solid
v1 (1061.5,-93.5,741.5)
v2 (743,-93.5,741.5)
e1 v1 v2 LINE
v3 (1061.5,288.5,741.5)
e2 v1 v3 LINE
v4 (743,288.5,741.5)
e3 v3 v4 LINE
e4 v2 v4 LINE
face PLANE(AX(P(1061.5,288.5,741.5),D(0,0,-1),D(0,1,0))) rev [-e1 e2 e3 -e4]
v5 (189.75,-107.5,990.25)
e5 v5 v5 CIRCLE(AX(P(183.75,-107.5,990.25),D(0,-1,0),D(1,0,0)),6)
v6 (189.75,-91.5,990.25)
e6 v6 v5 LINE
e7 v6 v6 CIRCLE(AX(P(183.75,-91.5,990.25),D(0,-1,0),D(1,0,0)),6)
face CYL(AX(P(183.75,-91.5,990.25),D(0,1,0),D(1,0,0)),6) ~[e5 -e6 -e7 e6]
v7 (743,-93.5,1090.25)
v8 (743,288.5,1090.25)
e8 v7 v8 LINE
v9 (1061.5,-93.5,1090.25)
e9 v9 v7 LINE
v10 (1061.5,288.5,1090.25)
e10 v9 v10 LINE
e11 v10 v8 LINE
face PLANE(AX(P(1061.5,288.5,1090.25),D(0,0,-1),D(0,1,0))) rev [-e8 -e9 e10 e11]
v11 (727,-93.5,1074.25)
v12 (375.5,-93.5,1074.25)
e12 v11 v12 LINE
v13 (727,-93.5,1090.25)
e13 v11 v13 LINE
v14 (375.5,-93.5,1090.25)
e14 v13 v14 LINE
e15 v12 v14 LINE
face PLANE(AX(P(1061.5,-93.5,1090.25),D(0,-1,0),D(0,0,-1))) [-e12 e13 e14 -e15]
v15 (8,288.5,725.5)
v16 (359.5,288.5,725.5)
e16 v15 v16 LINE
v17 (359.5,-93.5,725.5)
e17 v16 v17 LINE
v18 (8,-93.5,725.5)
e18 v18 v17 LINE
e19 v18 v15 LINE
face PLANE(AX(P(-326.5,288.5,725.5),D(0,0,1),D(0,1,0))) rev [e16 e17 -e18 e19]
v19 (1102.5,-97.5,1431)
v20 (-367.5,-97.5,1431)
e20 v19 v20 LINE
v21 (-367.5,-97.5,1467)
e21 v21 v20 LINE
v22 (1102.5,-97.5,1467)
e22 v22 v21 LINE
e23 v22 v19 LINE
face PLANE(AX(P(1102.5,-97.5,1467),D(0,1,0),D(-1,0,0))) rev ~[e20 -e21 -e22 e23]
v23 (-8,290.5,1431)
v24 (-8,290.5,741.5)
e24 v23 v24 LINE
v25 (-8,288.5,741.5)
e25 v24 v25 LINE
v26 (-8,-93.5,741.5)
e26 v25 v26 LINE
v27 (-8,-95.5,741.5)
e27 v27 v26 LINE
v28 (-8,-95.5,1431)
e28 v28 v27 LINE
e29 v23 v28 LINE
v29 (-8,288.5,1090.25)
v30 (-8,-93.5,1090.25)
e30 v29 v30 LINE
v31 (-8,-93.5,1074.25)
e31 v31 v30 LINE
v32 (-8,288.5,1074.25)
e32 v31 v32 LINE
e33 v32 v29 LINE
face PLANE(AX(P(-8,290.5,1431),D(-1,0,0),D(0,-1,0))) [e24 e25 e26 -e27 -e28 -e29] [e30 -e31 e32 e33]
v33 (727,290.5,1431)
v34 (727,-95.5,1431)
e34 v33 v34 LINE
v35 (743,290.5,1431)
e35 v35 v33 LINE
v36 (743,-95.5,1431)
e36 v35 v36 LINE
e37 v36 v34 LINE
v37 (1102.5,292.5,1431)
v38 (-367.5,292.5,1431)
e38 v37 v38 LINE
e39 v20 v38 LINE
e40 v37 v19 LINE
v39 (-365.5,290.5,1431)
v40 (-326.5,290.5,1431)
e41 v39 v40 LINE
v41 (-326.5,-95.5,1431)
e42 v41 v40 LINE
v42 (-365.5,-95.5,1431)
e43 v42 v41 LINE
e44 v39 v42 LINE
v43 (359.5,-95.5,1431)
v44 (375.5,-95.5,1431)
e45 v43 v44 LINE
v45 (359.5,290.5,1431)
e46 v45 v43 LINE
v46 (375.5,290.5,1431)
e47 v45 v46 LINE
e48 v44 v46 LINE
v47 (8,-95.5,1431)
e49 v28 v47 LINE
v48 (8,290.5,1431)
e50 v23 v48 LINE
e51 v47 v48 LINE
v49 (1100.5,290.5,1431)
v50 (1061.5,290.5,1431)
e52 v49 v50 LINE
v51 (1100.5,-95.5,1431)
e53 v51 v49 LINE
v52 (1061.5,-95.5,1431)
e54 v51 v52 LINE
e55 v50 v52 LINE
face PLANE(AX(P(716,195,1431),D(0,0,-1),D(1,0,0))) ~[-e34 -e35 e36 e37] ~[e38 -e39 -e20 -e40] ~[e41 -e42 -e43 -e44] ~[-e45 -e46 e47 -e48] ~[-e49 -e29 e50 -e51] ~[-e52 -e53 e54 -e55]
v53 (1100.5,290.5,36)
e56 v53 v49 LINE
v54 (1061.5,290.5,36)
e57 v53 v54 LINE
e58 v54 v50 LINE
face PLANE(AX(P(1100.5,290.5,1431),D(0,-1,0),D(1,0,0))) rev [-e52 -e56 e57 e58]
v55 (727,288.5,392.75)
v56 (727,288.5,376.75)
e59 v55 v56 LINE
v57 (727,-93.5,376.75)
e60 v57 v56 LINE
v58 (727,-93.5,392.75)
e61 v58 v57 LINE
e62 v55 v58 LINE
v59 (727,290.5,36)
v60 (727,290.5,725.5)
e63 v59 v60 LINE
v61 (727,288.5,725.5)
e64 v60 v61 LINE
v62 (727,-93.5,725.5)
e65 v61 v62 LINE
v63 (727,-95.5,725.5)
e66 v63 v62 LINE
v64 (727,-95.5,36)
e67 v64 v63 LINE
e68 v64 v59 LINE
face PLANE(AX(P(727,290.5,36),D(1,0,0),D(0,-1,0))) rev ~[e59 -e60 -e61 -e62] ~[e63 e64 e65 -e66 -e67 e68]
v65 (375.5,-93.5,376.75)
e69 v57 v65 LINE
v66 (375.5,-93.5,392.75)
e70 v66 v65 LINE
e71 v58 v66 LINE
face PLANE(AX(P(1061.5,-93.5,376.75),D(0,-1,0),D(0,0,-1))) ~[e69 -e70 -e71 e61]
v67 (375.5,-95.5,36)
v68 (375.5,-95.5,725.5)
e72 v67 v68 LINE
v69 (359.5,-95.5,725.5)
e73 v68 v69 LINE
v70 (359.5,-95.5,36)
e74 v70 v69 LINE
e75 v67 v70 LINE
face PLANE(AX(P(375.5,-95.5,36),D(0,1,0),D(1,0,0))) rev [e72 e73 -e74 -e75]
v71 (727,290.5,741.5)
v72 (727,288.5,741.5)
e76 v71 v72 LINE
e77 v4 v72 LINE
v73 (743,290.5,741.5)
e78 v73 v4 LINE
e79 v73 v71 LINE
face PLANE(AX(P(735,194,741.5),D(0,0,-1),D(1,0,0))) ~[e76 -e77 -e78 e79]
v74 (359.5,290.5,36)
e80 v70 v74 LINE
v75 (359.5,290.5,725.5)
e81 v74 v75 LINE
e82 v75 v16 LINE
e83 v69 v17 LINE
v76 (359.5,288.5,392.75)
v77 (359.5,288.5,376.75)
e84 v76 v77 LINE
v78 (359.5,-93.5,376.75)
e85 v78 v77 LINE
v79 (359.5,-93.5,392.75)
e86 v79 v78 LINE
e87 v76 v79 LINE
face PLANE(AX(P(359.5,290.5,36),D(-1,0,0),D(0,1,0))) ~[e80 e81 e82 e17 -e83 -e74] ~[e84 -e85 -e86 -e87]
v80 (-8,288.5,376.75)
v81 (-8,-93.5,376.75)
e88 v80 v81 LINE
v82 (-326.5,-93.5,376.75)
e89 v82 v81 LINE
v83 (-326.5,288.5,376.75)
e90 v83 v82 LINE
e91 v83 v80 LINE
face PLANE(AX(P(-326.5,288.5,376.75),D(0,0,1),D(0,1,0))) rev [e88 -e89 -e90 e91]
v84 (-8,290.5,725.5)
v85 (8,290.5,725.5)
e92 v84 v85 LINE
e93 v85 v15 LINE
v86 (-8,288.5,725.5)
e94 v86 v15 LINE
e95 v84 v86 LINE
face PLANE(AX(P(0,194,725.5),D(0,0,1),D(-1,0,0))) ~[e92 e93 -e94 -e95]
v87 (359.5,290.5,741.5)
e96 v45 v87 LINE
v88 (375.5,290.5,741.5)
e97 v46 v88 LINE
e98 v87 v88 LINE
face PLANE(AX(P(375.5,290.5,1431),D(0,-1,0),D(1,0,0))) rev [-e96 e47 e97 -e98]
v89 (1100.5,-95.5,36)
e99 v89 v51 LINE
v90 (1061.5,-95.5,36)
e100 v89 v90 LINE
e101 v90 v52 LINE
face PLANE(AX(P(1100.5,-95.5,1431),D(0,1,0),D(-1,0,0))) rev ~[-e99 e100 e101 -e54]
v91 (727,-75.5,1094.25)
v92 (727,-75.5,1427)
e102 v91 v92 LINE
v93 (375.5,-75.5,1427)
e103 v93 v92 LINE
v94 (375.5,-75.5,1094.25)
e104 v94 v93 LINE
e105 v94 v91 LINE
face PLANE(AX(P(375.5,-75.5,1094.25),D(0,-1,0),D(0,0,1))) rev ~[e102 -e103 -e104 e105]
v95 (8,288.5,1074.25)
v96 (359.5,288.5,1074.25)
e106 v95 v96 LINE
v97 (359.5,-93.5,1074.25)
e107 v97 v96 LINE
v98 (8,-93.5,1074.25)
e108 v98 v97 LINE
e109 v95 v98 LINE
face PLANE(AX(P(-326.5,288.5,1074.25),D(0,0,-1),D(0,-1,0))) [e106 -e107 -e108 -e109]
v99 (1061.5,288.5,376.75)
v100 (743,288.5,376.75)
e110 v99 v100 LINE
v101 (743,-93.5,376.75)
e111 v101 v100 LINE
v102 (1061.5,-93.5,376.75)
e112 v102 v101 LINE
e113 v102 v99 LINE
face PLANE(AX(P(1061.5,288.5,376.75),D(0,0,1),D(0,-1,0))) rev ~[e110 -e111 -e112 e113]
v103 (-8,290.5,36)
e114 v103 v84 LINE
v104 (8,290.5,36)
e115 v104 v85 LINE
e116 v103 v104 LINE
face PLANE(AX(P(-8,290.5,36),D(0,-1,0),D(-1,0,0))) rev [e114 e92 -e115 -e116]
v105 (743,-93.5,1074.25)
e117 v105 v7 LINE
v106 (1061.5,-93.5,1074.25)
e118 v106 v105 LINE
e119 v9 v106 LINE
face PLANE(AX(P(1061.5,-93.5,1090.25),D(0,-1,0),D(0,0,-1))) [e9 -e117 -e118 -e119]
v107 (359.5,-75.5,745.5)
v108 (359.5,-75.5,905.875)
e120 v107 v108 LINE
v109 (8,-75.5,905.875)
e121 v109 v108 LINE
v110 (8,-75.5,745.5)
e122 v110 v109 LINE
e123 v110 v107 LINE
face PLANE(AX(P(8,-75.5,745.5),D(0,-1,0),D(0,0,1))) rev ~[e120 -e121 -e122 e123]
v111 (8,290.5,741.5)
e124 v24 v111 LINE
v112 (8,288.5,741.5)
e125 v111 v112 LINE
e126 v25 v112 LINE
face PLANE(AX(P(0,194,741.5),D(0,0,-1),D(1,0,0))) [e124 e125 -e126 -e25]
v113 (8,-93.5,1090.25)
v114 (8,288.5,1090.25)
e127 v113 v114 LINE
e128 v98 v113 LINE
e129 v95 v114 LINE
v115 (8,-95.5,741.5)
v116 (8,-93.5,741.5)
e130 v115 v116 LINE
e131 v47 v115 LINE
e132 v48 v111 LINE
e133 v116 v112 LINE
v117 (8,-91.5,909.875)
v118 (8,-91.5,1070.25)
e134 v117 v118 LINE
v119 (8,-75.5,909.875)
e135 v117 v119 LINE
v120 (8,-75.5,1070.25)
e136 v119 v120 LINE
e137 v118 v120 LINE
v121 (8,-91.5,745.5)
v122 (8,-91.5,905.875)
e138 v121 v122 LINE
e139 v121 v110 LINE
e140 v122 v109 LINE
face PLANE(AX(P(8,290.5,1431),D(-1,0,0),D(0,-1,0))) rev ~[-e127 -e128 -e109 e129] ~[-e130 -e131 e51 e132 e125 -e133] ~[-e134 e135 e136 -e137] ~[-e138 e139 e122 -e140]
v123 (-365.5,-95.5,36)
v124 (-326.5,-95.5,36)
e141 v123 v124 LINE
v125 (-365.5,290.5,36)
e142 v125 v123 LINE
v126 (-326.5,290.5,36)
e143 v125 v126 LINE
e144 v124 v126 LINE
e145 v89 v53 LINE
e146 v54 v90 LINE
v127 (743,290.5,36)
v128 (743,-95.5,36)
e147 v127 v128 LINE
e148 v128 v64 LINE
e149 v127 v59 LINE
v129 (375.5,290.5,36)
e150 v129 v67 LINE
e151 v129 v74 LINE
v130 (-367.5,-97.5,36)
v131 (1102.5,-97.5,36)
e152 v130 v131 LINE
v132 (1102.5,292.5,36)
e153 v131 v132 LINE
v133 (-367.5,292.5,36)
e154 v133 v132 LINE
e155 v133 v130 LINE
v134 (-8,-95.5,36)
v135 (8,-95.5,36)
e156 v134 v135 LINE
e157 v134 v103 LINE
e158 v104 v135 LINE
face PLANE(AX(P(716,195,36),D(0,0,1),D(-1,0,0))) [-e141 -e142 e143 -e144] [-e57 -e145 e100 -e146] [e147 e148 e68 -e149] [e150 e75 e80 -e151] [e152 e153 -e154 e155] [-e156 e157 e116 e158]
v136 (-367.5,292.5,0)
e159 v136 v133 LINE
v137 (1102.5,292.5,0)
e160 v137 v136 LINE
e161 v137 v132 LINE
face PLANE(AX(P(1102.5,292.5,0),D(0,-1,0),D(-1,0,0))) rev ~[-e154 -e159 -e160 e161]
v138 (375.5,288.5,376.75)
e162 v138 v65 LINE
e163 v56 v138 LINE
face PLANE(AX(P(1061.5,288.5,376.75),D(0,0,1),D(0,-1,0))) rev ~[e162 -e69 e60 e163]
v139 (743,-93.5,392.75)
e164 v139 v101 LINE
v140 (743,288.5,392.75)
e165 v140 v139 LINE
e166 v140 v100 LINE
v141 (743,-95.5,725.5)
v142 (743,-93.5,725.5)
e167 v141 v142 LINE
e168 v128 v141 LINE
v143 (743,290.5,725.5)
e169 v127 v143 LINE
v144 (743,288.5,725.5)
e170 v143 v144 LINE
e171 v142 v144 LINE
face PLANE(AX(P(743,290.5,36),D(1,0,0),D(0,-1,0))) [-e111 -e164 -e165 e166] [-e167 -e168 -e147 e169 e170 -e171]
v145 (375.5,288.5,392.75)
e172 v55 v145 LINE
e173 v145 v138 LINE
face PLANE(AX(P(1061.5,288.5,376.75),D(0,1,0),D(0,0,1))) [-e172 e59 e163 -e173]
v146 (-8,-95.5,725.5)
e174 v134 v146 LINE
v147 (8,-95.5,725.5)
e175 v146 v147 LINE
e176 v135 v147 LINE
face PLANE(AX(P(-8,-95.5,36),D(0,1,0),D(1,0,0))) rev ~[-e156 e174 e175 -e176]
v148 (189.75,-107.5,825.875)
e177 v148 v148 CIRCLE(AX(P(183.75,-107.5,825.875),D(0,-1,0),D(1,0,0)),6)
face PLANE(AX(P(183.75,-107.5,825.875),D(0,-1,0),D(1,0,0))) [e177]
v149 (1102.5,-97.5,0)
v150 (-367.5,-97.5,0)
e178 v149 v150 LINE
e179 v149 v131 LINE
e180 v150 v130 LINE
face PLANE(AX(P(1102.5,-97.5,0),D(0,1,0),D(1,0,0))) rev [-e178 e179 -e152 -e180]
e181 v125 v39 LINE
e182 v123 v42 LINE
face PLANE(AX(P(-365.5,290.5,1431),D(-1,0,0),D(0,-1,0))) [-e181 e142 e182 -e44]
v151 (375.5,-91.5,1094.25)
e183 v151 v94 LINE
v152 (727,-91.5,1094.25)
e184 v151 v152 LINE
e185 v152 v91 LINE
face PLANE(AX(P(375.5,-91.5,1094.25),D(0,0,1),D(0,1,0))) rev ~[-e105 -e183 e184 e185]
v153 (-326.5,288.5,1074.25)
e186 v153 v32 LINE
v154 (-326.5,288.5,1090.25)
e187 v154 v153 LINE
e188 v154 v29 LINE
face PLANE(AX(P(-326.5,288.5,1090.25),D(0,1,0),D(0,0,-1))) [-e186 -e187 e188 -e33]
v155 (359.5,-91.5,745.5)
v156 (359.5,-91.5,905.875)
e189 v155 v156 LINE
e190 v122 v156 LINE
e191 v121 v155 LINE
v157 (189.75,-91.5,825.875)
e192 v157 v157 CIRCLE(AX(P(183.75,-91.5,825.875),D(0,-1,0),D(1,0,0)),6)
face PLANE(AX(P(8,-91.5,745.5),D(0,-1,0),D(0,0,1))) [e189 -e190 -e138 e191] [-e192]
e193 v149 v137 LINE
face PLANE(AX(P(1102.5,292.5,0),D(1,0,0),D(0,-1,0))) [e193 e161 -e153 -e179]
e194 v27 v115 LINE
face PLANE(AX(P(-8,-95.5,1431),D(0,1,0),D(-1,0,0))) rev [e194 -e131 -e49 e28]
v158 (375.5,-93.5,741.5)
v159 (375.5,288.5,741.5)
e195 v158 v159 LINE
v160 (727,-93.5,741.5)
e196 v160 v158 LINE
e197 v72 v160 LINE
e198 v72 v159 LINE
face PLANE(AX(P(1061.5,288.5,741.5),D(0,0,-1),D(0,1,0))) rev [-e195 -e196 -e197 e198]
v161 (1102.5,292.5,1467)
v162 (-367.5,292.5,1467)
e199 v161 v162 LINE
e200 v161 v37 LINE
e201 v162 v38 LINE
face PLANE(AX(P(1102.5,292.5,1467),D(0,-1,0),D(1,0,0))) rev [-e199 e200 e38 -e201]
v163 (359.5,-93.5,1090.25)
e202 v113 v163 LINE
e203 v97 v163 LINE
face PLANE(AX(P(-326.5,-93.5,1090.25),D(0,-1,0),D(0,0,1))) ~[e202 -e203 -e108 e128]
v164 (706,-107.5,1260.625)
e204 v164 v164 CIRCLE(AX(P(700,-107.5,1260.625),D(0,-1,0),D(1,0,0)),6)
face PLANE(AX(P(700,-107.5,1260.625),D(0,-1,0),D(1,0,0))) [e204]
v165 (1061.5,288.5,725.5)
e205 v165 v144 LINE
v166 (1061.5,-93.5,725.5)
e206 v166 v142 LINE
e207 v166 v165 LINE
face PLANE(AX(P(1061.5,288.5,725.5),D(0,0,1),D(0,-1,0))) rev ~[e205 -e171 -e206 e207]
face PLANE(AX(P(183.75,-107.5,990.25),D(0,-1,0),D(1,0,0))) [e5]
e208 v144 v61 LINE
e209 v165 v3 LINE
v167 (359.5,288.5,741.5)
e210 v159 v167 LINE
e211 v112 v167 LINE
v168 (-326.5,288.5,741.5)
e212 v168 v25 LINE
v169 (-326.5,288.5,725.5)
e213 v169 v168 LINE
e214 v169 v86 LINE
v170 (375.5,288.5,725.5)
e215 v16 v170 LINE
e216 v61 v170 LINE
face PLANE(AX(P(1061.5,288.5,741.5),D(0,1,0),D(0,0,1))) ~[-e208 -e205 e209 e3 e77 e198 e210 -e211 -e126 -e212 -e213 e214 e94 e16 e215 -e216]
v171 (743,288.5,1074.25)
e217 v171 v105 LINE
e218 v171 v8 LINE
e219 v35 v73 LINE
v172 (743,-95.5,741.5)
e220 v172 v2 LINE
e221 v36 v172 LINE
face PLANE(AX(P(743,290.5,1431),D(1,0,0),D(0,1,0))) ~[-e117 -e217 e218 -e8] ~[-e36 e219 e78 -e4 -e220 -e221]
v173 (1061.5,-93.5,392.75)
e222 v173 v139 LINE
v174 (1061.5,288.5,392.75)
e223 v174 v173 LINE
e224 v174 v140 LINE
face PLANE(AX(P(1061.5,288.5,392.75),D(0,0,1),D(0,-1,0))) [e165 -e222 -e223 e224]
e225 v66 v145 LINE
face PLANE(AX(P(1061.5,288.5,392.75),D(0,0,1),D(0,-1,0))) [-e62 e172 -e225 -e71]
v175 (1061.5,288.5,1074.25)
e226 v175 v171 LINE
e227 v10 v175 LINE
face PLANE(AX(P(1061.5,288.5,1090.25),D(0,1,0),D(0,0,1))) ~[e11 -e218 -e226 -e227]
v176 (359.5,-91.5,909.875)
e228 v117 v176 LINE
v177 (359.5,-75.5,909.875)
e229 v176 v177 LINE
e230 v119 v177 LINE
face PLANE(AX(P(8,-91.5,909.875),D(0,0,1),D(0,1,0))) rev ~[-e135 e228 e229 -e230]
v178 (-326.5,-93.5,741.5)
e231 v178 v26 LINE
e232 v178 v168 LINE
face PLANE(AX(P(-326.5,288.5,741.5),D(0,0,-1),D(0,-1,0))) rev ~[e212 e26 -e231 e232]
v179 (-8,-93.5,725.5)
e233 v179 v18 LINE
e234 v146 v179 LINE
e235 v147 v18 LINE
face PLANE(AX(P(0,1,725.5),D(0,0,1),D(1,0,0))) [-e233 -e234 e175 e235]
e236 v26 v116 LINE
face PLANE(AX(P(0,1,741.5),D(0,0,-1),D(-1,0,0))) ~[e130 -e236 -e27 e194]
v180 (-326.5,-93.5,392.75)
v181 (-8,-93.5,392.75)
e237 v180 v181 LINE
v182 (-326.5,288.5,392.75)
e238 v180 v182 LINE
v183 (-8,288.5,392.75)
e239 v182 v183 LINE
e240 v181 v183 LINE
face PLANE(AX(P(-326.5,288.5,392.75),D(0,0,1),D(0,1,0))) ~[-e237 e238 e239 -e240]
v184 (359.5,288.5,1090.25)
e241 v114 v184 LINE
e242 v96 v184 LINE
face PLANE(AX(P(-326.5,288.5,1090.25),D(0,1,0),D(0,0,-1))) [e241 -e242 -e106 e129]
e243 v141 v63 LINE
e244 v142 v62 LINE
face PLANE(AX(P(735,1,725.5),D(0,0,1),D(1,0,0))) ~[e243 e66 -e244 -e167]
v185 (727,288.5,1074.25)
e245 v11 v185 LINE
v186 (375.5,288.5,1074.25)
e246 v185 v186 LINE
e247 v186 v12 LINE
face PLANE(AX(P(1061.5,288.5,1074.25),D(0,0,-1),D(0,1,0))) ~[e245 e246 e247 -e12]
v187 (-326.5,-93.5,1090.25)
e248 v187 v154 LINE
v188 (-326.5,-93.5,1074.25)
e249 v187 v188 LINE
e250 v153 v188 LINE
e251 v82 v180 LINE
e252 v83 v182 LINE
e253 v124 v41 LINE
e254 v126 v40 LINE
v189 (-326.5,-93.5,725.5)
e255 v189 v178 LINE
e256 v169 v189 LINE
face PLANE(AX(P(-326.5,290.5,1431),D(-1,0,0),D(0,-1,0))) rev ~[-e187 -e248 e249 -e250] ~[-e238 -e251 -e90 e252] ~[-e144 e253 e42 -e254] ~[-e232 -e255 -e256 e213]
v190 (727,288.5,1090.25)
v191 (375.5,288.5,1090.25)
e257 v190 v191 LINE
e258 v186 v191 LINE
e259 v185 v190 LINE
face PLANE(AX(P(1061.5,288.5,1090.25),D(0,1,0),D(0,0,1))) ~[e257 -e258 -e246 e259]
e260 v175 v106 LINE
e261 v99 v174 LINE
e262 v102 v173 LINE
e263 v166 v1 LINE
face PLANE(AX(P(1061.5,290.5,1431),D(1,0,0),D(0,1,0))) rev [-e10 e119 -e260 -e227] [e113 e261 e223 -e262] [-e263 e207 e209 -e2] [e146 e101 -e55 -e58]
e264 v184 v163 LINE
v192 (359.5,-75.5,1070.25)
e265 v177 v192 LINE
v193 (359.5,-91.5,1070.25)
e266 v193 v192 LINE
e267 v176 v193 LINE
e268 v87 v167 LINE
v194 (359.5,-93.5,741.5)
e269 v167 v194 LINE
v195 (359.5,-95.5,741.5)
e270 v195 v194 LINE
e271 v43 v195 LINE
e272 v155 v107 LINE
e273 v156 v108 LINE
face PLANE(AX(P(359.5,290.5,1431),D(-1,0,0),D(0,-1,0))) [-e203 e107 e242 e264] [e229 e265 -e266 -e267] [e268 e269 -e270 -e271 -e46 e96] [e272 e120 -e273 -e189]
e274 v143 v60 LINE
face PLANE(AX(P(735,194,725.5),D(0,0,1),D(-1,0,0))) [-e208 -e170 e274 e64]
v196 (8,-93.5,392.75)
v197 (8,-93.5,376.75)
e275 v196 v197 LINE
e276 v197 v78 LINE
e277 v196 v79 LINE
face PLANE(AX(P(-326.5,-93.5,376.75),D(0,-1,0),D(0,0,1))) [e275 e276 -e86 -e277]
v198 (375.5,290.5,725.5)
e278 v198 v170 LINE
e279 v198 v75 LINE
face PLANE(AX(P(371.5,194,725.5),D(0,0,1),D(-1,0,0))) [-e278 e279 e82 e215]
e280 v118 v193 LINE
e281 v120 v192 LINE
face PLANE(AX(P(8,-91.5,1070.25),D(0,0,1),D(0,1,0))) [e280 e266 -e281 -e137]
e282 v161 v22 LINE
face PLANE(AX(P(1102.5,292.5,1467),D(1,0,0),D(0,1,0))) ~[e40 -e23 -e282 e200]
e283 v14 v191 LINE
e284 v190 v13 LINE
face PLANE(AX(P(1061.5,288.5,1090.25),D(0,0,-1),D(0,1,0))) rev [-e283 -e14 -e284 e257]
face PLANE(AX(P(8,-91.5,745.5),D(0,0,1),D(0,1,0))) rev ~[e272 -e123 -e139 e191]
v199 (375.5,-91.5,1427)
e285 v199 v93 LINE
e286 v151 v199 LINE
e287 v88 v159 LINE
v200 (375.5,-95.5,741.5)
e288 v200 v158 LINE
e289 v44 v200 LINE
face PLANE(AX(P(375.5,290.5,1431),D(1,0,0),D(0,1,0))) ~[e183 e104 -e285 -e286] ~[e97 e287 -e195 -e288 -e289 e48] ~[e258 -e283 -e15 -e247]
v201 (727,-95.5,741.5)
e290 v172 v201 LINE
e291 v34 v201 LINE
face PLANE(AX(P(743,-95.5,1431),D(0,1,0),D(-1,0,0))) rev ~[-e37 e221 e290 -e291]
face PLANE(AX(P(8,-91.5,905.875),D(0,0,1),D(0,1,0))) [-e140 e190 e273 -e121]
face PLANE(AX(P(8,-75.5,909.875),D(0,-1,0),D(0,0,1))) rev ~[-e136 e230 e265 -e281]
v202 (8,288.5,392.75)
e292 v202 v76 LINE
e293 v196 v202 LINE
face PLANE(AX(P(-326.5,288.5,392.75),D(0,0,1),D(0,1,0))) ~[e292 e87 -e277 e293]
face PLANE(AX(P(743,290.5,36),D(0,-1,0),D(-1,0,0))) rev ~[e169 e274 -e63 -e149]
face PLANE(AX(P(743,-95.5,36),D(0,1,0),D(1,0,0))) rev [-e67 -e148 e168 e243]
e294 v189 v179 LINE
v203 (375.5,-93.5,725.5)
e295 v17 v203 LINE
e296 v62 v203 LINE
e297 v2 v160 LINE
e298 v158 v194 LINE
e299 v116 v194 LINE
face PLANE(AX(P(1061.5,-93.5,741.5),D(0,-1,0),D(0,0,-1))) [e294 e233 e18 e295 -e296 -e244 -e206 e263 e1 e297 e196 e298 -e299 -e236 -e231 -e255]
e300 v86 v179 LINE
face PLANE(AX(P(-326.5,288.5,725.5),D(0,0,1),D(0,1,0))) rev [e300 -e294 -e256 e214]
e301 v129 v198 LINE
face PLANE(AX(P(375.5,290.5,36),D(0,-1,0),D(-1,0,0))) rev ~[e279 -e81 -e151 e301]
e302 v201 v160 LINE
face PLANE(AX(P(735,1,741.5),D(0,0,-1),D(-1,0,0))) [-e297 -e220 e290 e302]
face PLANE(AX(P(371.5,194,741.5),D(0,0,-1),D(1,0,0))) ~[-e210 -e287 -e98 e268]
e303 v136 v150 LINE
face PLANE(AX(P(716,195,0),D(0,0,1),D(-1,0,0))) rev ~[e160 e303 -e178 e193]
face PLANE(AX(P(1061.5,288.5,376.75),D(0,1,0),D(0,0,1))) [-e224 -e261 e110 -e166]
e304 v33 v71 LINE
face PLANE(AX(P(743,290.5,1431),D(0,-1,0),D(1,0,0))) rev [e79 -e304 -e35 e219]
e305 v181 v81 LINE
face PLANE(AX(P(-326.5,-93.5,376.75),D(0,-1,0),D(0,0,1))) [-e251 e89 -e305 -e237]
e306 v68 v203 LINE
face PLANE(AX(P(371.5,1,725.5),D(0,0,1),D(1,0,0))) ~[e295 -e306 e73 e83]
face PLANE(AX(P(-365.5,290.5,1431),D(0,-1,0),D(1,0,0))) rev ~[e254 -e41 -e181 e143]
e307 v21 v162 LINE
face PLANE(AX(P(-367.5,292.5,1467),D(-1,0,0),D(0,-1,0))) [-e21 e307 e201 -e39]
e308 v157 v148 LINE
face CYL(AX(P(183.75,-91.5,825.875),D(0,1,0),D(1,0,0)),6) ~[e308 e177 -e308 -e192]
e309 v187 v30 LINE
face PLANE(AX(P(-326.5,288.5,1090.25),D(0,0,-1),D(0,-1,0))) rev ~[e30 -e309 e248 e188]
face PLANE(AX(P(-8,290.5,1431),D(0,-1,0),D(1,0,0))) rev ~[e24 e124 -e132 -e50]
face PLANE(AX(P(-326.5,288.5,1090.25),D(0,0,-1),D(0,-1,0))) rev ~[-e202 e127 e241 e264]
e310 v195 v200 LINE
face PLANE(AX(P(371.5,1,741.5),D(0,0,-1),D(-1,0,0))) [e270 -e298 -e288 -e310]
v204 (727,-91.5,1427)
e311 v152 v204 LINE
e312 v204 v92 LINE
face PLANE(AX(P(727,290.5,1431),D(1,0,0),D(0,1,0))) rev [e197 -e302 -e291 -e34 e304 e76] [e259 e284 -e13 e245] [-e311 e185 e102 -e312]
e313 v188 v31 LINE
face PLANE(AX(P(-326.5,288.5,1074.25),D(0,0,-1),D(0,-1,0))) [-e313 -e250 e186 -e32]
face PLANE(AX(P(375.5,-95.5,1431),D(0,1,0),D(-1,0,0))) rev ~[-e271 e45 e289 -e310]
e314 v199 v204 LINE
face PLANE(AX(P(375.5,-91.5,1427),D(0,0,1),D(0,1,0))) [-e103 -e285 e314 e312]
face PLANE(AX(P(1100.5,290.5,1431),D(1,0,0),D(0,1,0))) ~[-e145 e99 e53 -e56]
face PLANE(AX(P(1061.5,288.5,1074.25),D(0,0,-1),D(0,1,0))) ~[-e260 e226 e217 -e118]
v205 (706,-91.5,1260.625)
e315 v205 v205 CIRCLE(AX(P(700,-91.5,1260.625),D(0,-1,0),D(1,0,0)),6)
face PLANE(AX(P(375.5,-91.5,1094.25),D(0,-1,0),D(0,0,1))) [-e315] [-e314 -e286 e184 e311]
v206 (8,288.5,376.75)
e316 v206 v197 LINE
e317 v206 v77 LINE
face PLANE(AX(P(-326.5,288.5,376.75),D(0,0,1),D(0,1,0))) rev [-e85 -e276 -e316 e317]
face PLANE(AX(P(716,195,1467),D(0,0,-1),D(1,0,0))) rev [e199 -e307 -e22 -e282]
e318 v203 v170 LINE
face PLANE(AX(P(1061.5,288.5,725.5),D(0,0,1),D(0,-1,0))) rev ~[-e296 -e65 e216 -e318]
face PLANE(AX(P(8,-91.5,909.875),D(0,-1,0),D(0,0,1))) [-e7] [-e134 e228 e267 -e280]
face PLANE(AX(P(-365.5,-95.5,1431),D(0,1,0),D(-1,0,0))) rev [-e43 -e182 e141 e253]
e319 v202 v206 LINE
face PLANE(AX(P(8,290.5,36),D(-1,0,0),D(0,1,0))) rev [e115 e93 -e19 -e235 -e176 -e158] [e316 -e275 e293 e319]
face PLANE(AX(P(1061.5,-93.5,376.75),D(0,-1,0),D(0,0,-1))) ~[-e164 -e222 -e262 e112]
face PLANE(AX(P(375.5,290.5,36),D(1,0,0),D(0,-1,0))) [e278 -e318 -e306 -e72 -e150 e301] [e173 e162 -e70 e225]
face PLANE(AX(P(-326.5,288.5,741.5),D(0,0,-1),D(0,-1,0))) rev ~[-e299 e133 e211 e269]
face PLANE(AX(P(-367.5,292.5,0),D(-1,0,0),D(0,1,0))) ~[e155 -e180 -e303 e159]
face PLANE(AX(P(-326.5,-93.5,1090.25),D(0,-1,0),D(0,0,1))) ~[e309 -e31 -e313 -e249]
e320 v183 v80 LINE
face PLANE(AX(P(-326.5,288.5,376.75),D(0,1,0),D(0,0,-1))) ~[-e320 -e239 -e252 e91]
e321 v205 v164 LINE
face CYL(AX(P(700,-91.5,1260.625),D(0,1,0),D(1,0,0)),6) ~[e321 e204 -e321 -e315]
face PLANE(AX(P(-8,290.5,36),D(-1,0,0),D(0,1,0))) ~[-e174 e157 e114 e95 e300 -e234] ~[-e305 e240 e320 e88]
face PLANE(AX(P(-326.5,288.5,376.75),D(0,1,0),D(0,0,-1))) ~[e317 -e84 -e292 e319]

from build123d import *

# Parameters (mm, degrees)
F0_W      = 697
F0_H      = 195
F0_W_2    = 36
F0_W_3    = 2
F1_DEPTH  = 36
F2_W      = 39
F2_H      = 193
F3_DEPTH  = 697.5
F4_W      = 191
F4_H      = 8
F4_H_2    = 16
F5_DEPTH  = 694
F6_W      = 16
F6_H      = 193
F6_W_2    = 8
F7_DEPTH  = 689.5
F11_W     = 16
F11_H     = 332.75
F12_DEPTH = 351.5
F13_R     = 6
F14_DEPTH = 16
F15_W     = 16
F15_H     = 160.375
F16_DEPTH = 351.5
F17_R     = 6
F18_DEPTH = 16


with BuildPart() as f1:
    # F0 (on Top) → F1 (new body)
    with BuildSketch(Plane.XY):
        with Locations((19, 0)):
            Rectangle(F0_W, F0_H)
        with Locations((-347.5, 0)):
            Rectangle(F0_W_2, F0_H)
        with Locations((-366.5, 0)):
            Rectangle(F0_W_3, F0_H)
    extrude(amount=F1_DEPTH)

    # F2 (on face) → F3 (join)
    with BuildSketch(Plane.XY.offset(36)):
        with Locations((-346, 1)):
            Rectangle(F2_W, F2_H)
    extrude(amount=F3_DEPTH)

    # F4 (on face) → F5 (join, through all)
    with BuildSketch(Plane.YZ.offset(-326.5)):
        with Locations((2, 729.5)):
            Rectangle(F4_W, F4_H)
        with Locations((2, 384.75)):
            Rectangle(F4_W, F4_H_2)
    extrude(amount=F5_DEPTH)

    # F6 (on face) → F7 (join, through all)
    with BuildSketch(Plane.XY.offset(36)):
        with Locations((0, 1)):
            Rectangle(F6_W, F6_H)
        with Locations((363.5, 1)):
            Rectangle(F6_W_2, F6_H)
    extrude(amount=F7_DEPTH)

    # F8: F1 across face


with BuildPart() as f1_1:
    add(f1.part)
    add(f1.part.mirror(Plane(origin=(0.8067832183, 1.9462668028, 733.5), x_dir=(1, 0, 0), z_dir=(0, 0, 1))))

    # F9: F1 across face


with BuildPart() as f1_2:
    add(f1_1.part)
    add(f1_1.part.mirror(Plane(origin=(367.5, 0.9612205774, 733.5), x_dir=(0, 1, 0), z_dir=(1, 0, 0))))

    # F10: F1 across face


with BuildPart() as f1_3:
    add(f1_2.part)
    add(f1_2.part.mirror(Plane(origin=(367.5, 97.5, 733.5), x_dir=(-1, 0, 0), z_dir=(0, 1, 0))))

    # F11 (on face) → F12 (join, through all)
    with BuildSketch(Plane.YZ.offset(375.5)):
        with Locations((-83.5, 1260.625)):
            Rectangle(F11_W, F11_H)
    extrude(amount=F12_DEPTH)

    # F13 (on face) → F14 (join)
    with BuildSketch(Plane.XZ.offset(91.5)):
        with Locations((700, 1260.625)):
            Circle(F13_R)
    extrude(amount=F14_DEPTH)

    # F15 (on face) → F16 (join, through all)
    with BuildSketch(Plane.YZ.offset(8)):
        with Locations((-83.5, 990.0625)):
            Rectangle(F15_W, F15_H)
        with Locations((-83.5, 825.6875)):
            Rectangle(F15_W, F15_H)
    extrude(amount=F16_DEPTH)

    # F17 (on face) → F18 (join)
    with BuildSketch(Plane.XZ.offset(91.5)):
        with Locations((183.75, 990.25)):
            Circle(F17_R)
        with Locations((183.75, 825.875)):
            Circle(F17_R)
    extrude(amount=F18_DEPTH)


solid = f1_3.part
